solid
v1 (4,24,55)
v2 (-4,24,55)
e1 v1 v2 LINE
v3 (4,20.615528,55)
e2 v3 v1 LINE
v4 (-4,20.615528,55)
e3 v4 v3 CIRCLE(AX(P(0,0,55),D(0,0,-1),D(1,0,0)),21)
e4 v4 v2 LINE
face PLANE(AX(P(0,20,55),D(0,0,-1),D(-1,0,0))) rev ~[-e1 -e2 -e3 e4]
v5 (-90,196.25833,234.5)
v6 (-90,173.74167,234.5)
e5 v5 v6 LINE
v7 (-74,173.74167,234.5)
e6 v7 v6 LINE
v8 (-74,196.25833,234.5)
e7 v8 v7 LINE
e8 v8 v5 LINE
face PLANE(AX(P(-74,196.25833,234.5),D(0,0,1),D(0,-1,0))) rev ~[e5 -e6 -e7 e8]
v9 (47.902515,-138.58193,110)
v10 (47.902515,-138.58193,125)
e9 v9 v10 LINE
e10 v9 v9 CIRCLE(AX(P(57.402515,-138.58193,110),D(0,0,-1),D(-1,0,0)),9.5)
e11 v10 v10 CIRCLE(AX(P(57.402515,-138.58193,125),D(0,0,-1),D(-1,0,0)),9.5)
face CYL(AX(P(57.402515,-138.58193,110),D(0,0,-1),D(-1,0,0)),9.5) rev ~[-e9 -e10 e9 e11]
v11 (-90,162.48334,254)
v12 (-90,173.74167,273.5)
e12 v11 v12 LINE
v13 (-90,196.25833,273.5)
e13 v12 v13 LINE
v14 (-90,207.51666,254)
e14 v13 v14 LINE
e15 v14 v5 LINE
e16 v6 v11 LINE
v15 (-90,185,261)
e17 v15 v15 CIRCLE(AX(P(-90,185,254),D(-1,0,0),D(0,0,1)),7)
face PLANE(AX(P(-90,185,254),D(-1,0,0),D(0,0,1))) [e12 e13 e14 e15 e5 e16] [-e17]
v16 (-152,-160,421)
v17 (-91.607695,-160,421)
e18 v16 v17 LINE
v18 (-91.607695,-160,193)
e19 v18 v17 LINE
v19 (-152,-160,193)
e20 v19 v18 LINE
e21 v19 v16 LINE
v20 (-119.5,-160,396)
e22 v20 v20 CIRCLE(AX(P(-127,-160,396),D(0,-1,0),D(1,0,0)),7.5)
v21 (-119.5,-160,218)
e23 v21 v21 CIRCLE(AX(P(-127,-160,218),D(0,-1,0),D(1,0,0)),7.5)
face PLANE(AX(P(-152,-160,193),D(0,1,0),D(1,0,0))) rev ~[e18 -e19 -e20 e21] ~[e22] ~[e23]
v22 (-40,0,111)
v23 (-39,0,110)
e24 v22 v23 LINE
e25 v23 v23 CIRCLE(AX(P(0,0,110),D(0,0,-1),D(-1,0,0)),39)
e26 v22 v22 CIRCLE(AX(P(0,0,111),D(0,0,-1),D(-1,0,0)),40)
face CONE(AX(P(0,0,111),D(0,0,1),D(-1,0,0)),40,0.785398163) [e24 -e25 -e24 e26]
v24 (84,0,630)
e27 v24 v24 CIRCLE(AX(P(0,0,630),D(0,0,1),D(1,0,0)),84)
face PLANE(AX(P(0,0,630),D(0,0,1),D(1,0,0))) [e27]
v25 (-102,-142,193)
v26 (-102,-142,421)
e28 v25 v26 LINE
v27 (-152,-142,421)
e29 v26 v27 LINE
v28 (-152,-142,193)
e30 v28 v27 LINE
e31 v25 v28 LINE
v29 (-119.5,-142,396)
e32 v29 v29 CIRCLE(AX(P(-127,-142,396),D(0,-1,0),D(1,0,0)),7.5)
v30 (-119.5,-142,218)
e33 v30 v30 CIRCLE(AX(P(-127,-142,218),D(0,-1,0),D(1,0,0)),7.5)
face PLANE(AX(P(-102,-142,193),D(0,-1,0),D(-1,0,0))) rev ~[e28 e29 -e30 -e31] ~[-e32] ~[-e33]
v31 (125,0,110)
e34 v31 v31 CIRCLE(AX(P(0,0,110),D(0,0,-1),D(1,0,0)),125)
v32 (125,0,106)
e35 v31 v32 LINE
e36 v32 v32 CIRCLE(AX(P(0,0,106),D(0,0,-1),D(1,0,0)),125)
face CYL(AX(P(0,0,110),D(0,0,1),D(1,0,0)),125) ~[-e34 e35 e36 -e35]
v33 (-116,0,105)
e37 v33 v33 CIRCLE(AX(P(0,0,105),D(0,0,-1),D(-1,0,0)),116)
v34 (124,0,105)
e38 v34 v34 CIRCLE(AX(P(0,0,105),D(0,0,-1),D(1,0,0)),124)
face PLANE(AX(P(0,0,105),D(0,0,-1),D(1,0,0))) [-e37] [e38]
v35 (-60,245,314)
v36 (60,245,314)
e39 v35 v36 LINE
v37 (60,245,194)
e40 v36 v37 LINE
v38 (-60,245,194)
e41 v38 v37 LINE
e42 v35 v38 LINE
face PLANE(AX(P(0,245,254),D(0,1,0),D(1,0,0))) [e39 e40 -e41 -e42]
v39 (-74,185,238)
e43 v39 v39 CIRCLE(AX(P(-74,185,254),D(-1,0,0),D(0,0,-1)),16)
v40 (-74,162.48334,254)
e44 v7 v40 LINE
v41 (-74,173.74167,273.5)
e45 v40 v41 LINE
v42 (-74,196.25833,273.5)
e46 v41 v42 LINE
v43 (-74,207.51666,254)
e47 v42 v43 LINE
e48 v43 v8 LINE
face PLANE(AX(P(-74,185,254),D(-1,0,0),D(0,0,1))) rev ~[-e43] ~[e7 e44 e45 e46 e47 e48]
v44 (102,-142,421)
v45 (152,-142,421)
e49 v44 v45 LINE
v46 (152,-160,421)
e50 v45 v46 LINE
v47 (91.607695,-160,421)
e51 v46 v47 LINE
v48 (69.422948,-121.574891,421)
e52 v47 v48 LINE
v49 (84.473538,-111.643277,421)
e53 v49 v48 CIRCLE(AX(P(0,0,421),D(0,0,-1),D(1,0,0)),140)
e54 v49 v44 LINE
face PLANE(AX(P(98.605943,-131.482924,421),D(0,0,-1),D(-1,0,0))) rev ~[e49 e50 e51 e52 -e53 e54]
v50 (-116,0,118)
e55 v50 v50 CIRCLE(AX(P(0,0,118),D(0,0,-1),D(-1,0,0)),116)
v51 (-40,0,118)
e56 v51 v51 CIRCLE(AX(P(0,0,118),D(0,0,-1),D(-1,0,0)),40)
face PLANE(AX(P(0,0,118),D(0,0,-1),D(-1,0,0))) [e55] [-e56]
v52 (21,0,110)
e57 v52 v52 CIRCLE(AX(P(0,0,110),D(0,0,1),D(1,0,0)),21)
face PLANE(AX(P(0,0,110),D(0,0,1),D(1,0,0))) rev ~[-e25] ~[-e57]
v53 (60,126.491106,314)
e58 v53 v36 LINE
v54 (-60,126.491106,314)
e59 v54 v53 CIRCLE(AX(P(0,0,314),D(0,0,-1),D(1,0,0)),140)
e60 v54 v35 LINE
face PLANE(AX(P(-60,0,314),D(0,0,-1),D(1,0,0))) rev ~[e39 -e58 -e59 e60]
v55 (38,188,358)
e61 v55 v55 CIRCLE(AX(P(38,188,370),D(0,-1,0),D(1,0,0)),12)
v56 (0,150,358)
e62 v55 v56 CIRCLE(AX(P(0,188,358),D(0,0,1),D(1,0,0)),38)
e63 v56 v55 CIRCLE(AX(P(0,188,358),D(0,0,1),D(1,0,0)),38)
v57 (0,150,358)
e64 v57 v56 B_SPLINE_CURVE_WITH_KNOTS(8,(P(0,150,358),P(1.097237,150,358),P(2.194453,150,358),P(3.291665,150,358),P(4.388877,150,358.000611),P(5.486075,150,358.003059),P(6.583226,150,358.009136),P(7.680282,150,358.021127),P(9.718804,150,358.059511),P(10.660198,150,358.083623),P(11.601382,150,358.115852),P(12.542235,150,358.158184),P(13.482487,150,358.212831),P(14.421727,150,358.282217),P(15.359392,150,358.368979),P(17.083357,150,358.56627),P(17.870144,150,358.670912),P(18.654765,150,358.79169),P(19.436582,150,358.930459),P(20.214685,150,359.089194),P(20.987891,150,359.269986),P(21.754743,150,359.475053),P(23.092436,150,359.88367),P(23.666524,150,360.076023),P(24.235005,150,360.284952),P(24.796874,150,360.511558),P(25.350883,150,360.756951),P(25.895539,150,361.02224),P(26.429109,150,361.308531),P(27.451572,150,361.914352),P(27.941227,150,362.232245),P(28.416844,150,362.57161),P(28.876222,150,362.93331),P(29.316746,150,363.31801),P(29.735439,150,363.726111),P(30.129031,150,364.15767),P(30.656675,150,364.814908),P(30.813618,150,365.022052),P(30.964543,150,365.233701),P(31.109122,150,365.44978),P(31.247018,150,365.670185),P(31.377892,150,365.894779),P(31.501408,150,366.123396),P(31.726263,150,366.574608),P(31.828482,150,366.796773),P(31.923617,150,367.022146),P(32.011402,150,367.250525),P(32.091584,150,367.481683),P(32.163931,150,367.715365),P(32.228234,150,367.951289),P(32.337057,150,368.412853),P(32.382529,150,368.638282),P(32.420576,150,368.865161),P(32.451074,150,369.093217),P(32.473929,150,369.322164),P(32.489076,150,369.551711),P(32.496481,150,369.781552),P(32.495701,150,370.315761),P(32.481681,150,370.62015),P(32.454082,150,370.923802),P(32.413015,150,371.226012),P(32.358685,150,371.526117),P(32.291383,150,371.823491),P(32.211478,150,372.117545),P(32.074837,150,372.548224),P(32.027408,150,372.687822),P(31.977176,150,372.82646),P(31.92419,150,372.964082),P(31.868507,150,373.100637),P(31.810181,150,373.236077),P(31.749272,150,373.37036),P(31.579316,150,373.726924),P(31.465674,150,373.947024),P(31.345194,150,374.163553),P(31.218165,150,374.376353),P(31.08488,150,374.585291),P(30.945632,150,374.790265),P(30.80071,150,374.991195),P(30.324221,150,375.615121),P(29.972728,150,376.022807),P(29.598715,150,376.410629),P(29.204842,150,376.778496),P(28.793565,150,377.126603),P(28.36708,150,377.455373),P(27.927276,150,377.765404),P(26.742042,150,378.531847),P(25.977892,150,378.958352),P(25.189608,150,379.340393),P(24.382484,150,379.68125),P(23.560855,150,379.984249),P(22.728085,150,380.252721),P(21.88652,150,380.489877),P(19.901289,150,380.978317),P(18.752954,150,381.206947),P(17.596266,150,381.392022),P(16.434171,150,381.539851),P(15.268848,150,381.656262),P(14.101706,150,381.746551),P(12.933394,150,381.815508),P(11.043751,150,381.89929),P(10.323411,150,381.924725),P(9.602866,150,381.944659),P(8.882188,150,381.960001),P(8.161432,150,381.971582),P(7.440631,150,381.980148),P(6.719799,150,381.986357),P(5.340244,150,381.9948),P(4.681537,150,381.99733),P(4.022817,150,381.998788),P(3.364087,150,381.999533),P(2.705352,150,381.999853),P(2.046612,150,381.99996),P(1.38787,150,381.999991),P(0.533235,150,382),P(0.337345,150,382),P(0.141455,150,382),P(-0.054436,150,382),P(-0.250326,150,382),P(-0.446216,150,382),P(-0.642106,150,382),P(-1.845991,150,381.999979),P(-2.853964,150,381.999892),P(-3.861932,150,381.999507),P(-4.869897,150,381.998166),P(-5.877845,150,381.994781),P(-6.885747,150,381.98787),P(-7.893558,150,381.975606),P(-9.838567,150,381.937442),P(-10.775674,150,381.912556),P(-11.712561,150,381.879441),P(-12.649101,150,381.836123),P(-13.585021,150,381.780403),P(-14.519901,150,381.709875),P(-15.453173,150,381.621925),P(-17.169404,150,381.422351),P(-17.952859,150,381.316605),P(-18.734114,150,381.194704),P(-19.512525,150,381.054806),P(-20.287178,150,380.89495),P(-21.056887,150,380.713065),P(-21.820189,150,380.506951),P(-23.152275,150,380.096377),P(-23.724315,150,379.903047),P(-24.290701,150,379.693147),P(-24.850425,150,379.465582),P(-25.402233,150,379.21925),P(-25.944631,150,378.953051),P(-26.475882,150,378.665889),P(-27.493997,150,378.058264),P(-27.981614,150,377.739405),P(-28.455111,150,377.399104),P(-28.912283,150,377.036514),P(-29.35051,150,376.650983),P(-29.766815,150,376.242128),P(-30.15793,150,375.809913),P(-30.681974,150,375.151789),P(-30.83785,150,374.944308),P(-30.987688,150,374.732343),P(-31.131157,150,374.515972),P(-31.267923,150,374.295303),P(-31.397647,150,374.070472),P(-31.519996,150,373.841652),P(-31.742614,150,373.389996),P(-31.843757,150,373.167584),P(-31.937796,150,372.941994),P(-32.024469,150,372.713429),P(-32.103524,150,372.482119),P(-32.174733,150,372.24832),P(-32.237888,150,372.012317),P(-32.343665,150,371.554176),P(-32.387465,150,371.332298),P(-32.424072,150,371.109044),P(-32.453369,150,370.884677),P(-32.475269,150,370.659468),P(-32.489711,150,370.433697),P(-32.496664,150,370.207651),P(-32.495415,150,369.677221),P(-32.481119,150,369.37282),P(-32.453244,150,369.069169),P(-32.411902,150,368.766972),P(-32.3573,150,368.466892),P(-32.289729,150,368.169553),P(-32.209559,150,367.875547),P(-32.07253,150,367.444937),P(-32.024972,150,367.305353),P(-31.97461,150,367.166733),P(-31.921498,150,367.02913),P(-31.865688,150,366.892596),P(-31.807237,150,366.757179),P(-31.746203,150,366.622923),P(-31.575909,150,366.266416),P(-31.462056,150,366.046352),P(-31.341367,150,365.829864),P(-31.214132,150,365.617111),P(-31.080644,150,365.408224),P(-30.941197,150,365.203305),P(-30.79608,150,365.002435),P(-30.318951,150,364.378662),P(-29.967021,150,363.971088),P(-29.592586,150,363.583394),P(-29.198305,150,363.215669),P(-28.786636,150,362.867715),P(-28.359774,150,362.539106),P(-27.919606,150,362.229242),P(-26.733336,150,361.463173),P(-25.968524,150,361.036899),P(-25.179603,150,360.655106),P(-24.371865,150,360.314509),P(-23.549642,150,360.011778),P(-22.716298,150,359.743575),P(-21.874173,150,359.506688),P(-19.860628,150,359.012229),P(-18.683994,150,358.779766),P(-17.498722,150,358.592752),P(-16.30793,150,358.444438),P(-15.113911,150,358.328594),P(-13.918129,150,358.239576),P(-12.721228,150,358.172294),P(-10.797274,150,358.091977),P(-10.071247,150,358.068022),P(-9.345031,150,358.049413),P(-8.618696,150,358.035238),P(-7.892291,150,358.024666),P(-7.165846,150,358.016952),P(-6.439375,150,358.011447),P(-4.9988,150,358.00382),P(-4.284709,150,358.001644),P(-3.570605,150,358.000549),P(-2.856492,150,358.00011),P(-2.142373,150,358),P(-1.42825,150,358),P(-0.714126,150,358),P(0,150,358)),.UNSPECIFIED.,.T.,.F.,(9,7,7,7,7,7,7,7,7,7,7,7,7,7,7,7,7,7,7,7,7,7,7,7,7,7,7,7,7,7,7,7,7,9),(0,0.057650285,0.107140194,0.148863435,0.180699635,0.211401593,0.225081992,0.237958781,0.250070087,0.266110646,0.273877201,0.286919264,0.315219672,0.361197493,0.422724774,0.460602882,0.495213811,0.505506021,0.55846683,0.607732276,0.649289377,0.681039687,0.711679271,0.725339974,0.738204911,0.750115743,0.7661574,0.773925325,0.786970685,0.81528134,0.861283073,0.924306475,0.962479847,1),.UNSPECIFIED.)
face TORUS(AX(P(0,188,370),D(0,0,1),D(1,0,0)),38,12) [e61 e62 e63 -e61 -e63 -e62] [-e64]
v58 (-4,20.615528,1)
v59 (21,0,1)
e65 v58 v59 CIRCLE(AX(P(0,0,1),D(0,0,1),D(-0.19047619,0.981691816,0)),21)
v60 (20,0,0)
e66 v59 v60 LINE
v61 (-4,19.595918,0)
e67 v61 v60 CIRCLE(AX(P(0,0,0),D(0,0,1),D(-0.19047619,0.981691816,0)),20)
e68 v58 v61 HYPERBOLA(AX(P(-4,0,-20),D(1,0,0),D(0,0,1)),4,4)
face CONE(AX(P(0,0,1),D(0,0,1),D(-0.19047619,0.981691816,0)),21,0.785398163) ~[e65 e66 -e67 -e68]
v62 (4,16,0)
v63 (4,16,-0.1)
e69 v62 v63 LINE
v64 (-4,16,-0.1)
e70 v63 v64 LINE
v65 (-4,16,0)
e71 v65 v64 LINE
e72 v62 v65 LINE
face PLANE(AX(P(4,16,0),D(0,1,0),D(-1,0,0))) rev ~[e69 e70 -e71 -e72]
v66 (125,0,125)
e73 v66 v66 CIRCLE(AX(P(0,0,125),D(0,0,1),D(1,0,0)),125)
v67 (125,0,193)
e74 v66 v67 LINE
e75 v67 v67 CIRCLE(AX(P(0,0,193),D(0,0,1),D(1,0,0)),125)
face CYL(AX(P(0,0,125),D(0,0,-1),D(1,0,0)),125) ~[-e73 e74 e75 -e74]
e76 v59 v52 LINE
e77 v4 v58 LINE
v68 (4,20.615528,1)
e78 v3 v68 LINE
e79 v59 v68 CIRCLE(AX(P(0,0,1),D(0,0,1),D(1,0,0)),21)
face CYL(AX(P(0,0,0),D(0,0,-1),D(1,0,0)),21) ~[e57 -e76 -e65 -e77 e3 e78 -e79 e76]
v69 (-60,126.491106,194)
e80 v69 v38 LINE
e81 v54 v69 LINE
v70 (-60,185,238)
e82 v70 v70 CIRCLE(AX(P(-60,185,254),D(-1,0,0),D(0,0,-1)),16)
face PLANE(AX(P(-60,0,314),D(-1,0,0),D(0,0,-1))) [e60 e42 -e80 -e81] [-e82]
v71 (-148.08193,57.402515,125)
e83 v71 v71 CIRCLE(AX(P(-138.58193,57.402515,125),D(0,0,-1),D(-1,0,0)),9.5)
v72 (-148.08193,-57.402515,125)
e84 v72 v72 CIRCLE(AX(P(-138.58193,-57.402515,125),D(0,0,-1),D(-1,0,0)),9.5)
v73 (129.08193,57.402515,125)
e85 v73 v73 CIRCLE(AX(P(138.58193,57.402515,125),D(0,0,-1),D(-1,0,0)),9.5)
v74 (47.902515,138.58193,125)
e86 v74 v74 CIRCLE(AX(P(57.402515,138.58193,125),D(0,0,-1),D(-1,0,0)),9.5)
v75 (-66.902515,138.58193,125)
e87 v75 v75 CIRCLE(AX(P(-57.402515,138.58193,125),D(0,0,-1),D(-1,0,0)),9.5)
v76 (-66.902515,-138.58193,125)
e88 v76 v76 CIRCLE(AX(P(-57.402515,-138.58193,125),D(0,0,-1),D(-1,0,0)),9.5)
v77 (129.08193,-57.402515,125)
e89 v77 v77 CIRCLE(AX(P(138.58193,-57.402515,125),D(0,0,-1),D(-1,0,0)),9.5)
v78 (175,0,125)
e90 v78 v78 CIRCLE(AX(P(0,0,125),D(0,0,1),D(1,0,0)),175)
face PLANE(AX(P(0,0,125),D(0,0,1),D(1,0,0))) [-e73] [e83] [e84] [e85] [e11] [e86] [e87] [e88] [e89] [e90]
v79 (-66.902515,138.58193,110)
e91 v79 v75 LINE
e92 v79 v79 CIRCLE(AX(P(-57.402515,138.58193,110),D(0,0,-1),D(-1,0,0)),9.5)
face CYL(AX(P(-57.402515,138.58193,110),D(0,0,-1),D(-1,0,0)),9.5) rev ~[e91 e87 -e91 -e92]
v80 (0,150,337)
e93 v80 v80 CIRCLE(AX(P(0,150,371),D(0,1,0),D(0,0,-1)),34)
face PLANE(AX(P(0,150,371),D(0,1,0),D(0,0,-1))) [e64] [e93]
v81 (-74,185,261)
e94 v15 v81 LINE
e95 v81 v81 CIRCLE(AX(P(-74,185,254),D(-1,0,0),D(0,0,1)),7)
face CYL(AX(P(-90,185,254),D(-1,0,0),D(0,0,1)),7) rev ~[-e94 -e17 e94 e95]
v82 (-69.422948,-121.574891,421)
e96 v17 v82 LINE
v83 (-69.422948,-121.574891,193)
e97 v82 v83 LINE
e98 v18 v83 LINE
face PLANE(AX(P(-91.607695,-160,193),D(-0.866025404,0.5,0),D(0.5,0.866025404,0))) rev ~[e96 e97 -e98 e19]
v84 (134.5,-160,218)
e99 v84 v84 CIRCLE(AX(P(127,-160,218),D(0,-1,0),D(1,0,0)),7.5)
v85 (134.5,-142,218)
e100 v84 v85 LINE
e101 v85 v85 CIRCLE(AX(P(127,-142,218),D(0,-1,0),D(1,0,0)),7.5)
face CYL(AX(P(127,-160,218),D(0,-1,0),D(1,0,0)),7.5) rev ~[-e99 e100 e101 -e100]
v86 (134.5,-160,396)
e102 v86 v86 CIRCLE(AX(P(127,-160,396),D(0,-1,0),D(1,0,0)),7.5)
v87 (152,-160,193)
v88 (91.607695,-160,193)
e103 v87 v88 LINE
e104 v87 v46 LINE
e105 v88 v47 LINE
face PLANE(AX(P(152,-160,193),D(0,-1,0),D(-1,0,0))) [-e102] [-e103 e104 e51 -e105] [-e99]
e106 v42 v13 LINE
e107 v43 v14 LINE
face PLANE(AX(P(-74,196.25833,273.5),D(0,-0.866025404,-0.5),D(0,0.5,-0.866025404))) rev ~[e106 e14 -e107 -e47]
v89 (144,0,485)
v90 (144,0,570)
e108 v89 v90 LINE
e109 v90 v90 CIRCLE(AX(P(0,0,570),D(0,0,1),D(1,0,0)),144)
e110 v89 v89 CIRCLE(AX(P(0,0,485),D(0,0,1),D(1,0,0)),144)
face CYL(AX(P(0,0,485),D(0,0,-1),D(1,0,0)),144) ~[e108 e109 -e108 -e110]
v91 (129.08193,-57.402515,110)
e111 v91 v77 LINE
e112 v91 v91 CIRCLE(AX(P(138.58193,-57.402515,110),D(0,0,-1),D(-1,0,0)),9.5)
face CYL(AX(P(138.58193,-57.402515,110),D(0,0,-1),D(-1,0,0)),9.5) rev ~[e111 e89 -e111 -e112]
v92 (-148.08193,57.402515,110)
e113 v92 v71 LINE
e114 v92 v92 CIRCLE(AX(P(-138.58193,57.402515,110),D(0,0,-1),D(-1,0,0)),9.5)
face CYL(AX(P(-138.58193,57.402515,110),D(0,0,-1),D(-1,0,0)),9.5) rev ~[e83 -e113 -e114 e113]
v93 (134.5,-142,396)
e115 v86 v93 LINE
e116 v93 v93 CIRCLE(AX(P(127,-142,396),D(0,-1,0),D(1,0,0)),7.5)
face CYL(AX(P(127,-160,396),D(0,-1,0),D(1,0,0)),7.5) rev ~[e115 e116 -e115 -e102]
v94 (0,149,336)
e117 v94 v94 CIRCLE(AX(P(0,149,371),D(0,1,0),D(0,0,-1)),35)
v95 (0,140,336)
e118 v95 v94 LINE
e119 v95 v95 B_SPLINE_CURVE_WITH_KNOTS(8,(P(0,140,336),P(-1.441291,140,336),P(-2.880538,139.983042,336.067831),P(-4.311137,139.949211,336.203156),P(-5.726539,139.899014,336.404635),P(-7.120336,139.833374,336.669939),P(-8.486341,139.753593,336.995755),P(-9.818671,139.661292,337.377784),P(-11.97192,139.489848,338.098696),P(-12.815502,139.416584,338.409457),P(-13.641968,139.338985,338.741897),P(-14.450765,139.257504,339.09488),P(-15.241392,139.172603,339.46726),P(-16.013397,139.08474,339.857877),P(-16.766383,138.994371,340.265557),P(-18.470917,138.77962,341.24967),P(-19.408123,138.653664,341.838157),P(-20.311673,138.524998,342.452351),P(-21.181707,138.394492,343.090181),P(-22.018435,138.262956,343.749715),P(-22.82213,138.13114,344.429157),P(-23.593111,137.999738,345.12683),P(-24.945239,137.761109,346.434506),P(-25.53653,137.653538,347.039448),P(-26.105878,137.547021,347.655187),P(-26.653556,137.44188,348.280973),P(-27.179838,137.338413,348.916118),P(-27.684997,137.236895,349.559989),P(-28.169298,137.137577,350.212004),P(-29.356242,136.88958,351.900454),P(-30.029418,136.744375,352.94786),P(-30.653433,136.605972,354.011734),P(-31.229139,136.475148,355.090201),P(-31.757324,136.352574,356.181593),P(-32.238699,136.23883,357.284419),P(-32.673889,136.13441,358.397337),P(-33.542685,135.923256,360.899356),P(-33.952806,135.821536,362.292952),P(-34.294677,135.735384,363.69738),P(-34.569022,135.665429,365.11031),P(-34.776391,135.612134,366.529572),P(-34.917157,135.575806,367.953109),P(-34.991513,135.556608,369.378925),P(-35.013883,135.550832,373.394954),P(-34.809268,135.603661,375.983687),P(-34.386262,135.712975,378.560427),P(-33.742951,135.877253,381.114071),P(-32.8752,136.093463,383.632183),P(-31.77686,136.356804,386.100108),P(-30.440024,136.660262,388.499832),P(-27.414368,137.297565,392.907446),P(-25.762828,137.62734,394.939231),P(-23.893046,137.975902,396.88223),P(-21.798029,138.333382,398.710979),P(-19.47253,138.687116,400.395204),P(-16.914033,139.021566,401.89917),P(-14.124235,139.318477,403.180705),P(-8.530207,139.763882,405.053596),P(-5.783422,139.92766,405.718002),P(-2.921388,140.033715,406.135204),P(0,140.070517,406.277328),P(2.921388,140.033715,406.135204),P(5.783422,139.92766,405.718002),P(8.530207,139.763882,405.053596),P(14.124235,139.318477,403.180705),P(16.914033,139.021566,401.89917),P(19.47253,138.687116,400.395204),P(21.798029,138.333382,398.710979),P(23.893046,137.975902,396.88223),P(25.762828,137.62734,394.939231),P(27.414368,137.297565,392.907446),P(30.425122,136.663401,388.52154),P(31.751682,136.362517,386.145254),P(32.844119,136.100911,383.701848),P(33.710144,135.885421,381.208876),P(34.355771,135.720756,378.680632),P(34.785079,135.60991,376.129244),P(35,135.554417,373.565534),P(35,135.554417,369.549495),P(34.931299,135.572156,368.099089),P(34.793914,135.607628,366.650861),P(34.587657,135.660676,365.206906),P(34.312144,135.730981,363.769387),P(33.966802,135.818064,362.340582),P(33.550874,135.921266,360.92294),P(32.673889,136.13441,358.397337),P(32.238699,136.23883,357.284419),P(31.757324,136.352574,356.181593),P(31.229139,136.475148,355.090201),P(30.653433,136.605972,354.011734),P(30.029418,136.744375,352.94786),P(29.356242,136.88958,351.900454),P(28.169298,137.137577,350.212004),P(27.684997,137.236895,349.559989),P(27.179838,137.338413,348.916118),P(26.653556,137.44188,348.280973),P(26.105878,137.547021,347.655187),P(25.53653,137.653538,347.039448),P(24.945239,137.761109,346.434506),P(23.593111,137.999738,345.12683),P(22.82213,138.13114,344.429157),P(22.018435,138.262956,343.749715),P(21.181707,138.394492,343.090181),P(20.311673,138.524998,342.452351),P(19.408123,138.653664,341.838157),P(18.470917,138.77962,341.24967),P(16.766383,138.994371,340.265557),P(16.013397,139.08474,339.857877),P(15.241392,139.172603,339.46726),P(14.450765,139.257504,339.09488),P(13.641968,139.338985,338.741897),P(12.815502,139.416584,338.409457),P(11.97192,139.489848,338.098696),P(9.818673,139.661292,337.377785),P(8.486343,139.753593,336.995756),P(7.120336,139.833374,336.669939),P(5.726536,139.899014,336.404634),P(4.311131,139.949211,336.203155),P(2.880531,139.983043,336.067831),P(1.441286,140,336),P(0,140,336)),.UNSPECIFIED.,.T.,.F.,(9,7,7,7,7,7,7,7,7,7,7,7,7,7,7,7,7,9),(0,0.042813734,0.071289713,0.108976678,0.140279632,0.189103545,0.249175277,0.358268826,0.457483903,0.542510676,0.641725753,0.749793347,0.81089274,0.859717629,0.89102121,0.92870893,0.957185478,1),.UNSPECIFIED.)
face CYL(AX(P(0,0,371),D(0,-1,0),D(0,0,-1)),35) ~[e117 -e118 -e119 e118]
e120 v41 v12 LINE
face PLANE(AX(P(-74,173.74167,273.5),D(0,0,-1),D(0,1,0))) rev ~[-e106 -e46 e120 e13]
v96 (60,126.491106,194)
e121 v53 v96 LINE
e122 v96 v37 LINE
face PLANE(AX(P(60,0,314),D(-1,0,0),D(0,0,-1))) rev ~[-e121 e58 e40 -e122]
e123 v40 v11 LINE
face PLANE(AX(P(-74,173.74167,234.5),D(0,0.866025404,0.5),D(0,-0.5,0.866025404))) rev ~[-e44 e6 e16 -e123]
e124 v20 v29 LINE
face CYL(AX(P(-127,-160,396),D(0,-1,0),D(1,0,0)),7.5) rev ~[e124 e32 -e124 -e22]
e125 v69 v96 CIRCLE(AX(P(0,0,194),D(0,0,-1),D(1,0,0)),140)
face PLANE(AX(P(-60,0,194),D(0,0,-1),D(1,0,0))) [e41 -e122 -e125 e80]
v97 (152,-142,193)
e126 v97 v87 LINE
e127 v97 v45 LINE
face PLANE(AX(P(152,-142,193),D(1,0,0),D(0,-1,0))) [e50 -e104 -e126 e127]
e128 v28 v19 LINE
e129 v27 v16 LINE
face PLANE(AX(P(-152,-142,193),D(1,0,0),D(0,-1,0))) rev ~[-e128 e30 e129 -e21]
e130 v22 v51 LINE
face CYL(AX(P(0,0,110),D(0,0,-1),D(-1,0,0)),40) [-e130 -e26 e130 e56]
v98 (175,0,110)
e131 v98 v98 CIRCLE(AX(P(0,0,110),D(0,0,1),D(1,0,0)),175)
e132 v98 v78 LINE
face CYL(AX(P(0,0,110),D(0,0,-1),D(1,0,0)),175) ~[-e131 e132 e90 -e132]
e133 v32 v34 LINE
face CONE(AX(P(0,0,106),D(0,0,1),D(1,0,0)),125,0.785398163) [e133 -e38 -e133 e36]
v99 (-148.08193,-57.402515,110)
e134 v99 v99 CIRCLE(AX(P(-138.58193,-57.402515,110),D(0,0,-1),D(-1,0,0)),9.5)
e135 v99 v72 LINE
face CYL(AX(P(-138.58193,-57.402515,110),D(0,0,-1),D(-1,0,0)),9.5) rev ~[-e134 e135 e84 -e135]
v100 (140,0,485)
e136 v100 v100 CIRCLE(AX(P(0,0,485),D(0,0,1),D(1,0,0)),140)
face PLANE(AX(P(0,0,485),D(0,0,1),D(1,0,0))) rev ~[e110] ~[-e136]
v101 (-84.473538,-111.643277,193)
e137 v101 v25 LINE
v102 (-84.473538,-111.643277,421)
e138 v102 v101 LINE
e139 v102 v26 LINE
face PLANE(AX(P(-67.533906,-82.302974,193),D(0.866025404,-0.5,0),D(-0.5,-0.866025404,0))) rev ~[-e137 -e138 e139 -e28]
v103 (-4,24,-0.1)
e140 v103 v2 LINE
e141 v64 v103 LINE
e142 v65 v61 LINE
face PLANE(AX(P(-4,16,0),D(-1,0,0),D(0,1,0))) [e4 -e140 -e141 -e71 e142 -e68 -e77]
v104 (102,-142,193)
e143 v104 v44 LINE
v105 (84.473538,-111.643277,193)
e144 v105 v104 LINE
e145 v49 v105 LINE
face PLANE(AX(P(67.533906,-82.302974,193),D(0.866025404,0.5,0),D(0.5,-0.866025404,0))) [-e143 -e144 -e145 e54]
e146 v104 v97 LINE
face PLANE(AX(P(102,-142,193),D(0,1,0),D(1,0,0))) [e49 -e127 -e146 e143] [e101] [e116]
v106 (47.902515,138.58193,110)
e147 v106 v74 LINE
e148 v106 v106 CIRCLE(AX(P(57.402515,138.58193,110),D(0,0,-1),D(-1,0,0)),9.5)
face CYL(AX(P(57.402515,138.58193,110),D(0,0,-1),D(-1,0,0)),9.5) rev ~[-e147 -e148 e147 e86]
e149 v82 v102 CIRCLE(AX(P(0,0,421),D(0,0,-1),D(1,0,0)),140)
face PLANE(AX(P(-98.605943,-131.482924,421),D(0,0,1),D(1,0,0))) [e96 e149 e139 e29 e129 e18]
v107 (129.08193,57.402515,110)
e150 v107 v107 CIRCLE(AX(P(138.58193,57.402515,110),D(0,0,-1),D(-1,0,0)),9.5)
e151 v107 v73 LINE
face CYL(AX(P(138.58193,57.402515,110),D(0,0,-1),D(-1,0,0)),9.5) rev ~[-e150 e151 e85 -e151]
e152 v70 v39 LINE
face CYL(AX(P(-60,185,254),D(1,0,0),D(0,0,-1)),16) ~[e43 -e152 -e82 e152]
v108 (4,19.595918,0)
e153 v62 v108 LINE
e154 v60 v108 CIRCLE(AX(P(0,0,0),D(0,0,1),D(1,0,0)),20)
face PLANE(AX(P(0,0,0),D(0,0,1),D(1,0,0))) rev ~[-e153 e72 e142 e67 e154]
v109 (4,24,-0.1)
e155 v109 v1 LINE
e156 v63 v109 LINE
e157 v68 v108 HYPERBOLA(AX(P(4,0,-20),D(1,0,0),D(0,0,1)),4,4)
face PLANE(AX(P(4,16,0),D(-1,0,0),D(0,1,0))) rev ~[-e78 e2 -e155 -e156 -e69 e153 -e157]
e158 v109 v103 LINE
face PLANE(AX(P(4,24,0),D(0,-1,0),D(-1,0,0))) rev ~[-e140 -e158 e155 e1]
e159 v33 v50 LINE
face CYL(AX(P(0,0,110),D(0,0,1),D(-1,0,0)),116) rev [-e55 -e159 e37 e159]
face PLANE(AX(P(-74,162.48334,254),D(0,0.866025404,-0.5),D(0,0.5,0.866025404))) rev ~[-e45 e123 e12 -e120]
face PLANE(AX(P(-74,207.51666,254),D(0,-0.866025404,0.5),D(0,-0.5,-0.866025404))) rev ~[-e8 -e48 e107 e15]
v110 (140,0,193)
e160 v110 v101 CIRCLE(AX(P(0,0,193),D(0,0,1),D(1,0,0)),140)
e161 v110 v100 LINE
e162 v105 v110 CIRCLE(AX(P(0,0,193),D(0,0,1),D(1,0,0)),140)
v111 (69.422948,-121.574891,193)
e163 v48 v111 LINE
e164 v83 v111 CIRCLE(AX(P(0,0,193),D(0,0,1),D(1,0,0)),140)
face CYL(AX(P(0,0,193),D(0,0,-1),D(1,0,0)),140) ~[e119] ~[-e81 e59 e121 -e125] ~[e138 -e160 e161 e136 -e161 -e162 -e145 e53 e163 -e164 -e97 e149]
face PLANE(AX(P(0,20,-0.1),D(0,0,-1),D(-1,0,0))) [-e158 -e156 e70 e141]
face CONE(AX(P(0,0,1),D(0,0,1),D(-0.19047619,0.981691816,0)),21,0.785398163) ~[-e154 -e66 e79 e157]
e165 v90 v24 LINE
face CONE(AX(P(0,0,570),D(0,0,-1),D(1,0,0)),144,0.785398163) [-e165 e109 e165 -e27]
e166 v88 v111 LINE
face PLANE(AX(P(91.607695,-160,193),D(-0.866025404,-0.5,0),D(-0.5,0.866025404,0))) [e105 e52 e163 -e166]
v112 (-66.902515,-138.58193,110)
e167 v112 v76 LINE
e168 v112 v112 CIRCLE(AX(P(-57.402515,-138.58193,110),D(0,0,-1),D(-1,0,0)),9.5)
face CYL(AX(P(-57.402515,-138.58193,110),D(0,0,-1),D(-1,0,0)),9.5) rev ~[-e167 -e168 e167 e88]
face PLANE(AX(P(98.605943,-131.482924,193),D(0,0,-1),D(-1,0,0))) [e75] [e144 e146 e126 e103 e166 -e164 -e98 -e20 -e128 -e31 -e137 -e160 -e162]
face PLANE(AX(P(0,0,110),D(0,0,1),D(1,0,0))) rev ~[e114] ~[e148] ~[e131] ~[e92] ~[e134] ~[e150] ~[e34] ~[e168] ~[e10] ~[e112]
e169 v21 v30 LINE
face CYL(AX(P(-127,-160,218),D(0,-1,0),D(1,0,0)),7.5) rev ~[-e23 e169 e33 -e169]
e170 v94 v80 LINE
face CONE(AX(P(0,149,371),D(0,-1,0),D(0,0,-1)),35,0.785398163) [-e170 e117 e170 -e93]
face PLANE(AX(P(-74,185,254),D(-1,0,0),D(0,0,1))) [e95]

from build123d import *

# Parameters (mm, degrees)
SKETCH_1_R           = 21
EXTRUDE_1_DEPTH      = 110
SKETCH_2_W           = 8
SKETCH_2_H           = 8
EXTRUDE_2_DEPTH      = 0.1
EXTRUDE_2_DEPTH_BACK = 55
SKETCH_3_R           = 175
EXTRUDE_3_DEPTH      = 15
SKETCH_4_R           = 125
SKETCH_4_R_2         = 116
EXTRUDE_4_DEPTH      = 5
SKETCH_5_R           = 116
SKETCH_5_R_2         = 40
CUT_EXTRUDE_1_DEPTH  = 8
CHAMFER_1_SIZE       = 1
SKETCH_6_R           = 9.5
CUT_EXTRUDE_2_DEPTH  = 16
SKETCH_7_R           = 125
EXTRUDE_5_DEPTH      = 68
SKETCH_8_R           = 140
EXTRUDE_6_DEPTH      = 292
SKETCH_9_R           = 144
EXTRUDE_7_DEPTH      = 145
CHAMFER_2_SIZE       = 60
EXTRUDE_8_DEPTH      = 228
CUT_EXTRUDE_3_REACH  = 337
SKETCH_11_R          = 7.5
SKETCH_12_W          = 120
SKETCH_12_H          = 120
EXTRUDE_9_DEPTH      = 245
SKETCH_13_R          = 35
EXTRUDE_10_DEPTH     = 150
CHAMFER_3_SIZE       = 1
SKETCH_15_R          = 12
SKETCH_16_R          = 16
EXTRUDE_11_DEPTH     = 14
EXTRUDE_12_DEPTH     = 16
SKETCH_18_R          = 7
CUT_EXTRUDE_4_DEPTH  = 16


with BuildPart() as part:
    # Эскиз1 → Вытянуть1 (new body)
    with BuildSketch(Plane.XY):
        Circle(SKETCH_1_R)
    extrude(amount=EXTRUDE_1_DEPTH)

    # Эскиз2 → Вытянуть2 (add, two sides)
    with BuildSketch(Plane(origin=(0, 0, 0), x_dir=(-1, 0, 0), z_dir=(0, 0, -1))) as extrude_2_sk:
        with Locations((0, 20)):
            Rectangle(SKETCH_2_W, SKETCH_2_H)
    extrude(amount=EXTRUDE_2_DEPTH)
    extrude(extrude_2_sk.sketch, amount=-EXTRUDE_2_DEPTH_BACK)

    # Эскиз3 → Вытянуть3 (add)
    with BuildSketch(Plane.XY.offset(110)):
        Circle(SKETCH_3_R)
    extrude(amount=EXTRUDE_3_DEPTH)

    # Эскиз4 → Вытянуть4 (add)
    with BuildSketch(Plane(origin=(0, 0, 110), x_dir=(-1, 0, 0), z_dir=(0, 0, -1))):
        with Locations(Location((0, 0, 0), (0, 0, 180))):  # turned: the seam where the file's is
            Circle(SKETCH_4_R)
        Circle(SKETCH_4_R_2, mode=Mode.SUBTRACT)
    extrude(amount=EXTRUDE_4_DEPTH)

    # Эскиз5 → Вырез-Вытянуть1 (cut)
    with BuildSketch(Plane(origin=(0, 0, 110), x_dir=(-1, 0, 0), z_dir=(0, 0, -1))):
        Circle(SKETCH_5_R)
        Circle(SKETCH_5_R_2, mode=Mode.SUBTRACT)
    extrude(amount=-CUT_EXTRUDE_1_DEPTH, mode=Mode.SUBTRACT)

    # Фаска1
    chamfer_1_edges = [part.edges().sort_by_distance(p)[0] for p in [
        (-125, 0, 105),
        (40, 0, 110),
        (-13.360389216, -16.201851746, 0),
    ]]
    chamfer(chamfer_1_edges, length=CHAMFER_1_SIZE)

    # Эскиз6 → Вырез-Вытянуть2 (cut, through all)
    with BuildSketch(Plane(origin=(0, 0, 110), x_dir=(-1, 0, 0), z_dir=(0, 0, -1))):
        with Locations((-57.402514855, 138.581929877)):
            Circle(SKETCH_6_R)
        with Locations((57.402514855, 138.581929877)):
            Circle(SKETCH_6_R)
        with Locations((138.581929877, 57.402514855)):
            Circle(SKETCH_6_R)
        with Locations((138.581929877, -57.402514855)):
            Circle(SKETCH_6_R)
        with Locations((57.402514855, -138.581929877)):
            Circle(SKETCH_6_R)
        with Locations((-57.402514855, -138.581929877)):
            Circle(SKETCH_6_R)
        with Locations((-138.581929877, -57.402514855)):
            Circle(SKETCH_6_R)
        with Locations((-138.581929877, 57.402514855)):
            Circle(SKETCH_6_R)
    extrude(amount=-CUT_EXTRUDE_2_DEPTH, mode=Mode.SUBTRACT)

    # Эскиз7 → Вытянуть5 (add)
    with BuildSketch(Plane.XY.offset(125)):
        Circle(SKETCH_7_R)
    extrude(amount=EXTRUDE_5_DEPTH)

    # Эскиз8 → Вытянуть6 (add)
    with BuildSketch(Plane.XY.offset(193)):
        Circle(SKETCH_8_R)
    extrude(amount=EXTRUDE_6_DEPTH)

    # Эскиз9 → Вытянуть7 (add)
    with BuildSketch(Plane.XY.offset(485)):
        Circle(SKETCH_9_R)
    extrude(amount=EXTRUDE_7_DEPTH)

    # Фаска2
    chamfer_2_edges = [part.edges().sort_by_distance(p)[0] for p in [
        (-144, 0, 630),
    ]]
    chamfer(chamfer_2_edges, length=CHAMFER_2_SIZE)

    # Эскиз10 → Вытянуть8 (add)
    with BuildSketch(Plane(origin=(0, 0, 193), x_dir=(-1, 0, 0), z_dir=(0, 0, -1))):
        Polygon((-152, -160), (-91.607695155, -160), (-51.945448858, -91.302974272), (-67.533906126, -82.302974272), (-102, -142), (-152, -142), align=None)
        Polygon((91.607695155, -160), (51.945448858, -91.302974272), (67.533906126, -82.302974272), (102, -142), (152, -142), (152, -160), align=None)
    extrude(amount=-EXTRUDE_8_DEPTH)

    # Эскиз11 → Вырез-Вытянуть3 (cut, up to next)
    with BuildSketch(Plane.XZ.offset(160), mode=Mode.PRIVATE) as cut_extrude_3_sk1:
        with Locations((-127, 218)):
            Circle(SKETCH_11_R)
    cut_extrude_3_tool1 = extrude(cut_extrude_3_sk1.sketch, amount=-CUT_EXTRUDE_3_REACH, mode=Mode.PRIVATE) & part.part
    add(cut_extrude_3_tool1.solids().sort_by_distance((-127, -160, 218))[0], mode=Mode.SUBTRACT)
    # Эскиз11 → Вырез-Вытянуть3 (cut, up to next)
    with BuildSketch(Plane.XZ.offset(160), mode=Mode.PRIVATE) as cut_extrude_3_sk2:
        with Locations((127, 218)):
            Circle(SKETCH_11_R)
    cut_extrude_3_tool2 = extrude(cut_extrude_3_sk2.sketch, amount=-CUT_EXTRUDE_3_REACH, mode=Mode.PRIVATE) & part.part
    add(cut_extrude_3_tool2.solids().sort_by_distance((127, -160, 218))[0], mode=Mode.SUBTRACT)
    # Эскиз11 → Вырез-Вытянуть3 (cut, up to next)
    with BuildSketch(Plane.XZ.offset(160), mode=Mode.PRIVATE) as cut_extrude_3_sk3:
        with Locations((-127, 396)):
            Circle(SKETCH_11_R)
    cut_extrude_3_tool3 = extrude(cut_extrude_3_sk3.sketch, amount=-CUT_EXTRUDE_3_REACH, mode=Mode.PRIVATE) & part.part
    add(cut_extrude_3_tool3.solids().sort_by_distance((-127, -160, 396))[0], mode=Mode.SUBTRACT)
    # Эскиз11 → Вырез-Вытянуть3 (cut, up to next)
    with BuildSketch(Plane.XZ.offset(160), mode=Mode.PRIVATE) as cut_extrude_3_sk4:
        with Locations((127, 396)):
            Circle(SKETCH_11_R)
    cut_extrude_3_tool4 = extrude(cut_extrude_3_sk4.sketch, amount=-CUT_EXTRUDE_3_REACH, mode=Mode.PRIVATE) & part.part
    add(cut_extrude_3_tool4.solids().sort_by_distance((127, -160, 396))[0], mode=Mode.SUBTRACT)

    # Эскиз12 → Вытянуть9 (add)
    with BuildSketch(Plane(origin=(0, 0, 0), x_dir=(1, 0, 0), z_dir=(0, 1, 0))):
        with Locations((0, -254)):
            Rectangle(SKETCH_12_W, SKETCH_12_H)
    extrude(amount=EXTRUDE_9_DEPTH)

    # Эскиз13 → Вытянуть10 (add)
    with BuildSketch(Plane(origin=(0, 0, 0), x_dir=(1, 0, 0), z_dir=(0, 1, 0))):
        with Locations(Location((0, -371, 0), (0, 0, 90))):  # turned: the seam where the file's is
            Circle(SKETCH_13_R)
    extrude(amount=EXTRUDE_10_DEPTH)

    # Фаска3
    chamfer_3_edges = [part.edges().sort_by_distance(p)[0] for p in [
        (0, 150, 406),
    ]]
    chamfer(chamfer_3_edges, length=CHAMFER_3_SIZE)

    # По траектории1: sweep along a path in Эскиз14
    with BuildLine(Plane.XY.offset(370)) as sweep_1_path:
        CenterArc((0, 188), 38, 0, 360)
    # Эскиз15 → По траектории1 (sweep)
    with BuildSketch(Plane(origin=(0, 0, 0), x_dir=(0, 0, -1), z_dir=(1, 0, 0))):
        with Locations((-370, 226)):
            Circle(SKETCH_15_R)
    sweep(path=sweep_1_path.line)

    # Эскиз16 → Вытянуть11 (add)
    with BuildSketch(Plane.ZY.offset(60)):
        with Locations(Location((254, 185, 0), (0, 0, 180))):  # turned: the seam where the file's is
            Circle(SKETCH_16_R)
    extrude(amount=EXTRUDE_11_DEPTH)

    # Эскиз17 → Вытянуть12 (add)
    with BuildSketch(Plane.ZY.offset(74)):
        Polygon((254, 207.516660498), (234.5, 196.258330249), (234.5, 173.741669751), (254, 162.483339502), (273.5, 173.741669751), (273.5, 196.258330249), align=None)
    extrude(amount=EXTRUDE_12_DEPTH)

    # Эскиз18 → Вырез-Вытянуть4 (cut)
    with BuildSketch(Plane.ZY.offset(90)):
        with Locations((254, 185)):
            Circle(SKETCH_18_R)
    extrude(amount=-CUT_EXTRUDE_4_DEPTH, mode=Mode.SUBTRACT)


solid = part.part
